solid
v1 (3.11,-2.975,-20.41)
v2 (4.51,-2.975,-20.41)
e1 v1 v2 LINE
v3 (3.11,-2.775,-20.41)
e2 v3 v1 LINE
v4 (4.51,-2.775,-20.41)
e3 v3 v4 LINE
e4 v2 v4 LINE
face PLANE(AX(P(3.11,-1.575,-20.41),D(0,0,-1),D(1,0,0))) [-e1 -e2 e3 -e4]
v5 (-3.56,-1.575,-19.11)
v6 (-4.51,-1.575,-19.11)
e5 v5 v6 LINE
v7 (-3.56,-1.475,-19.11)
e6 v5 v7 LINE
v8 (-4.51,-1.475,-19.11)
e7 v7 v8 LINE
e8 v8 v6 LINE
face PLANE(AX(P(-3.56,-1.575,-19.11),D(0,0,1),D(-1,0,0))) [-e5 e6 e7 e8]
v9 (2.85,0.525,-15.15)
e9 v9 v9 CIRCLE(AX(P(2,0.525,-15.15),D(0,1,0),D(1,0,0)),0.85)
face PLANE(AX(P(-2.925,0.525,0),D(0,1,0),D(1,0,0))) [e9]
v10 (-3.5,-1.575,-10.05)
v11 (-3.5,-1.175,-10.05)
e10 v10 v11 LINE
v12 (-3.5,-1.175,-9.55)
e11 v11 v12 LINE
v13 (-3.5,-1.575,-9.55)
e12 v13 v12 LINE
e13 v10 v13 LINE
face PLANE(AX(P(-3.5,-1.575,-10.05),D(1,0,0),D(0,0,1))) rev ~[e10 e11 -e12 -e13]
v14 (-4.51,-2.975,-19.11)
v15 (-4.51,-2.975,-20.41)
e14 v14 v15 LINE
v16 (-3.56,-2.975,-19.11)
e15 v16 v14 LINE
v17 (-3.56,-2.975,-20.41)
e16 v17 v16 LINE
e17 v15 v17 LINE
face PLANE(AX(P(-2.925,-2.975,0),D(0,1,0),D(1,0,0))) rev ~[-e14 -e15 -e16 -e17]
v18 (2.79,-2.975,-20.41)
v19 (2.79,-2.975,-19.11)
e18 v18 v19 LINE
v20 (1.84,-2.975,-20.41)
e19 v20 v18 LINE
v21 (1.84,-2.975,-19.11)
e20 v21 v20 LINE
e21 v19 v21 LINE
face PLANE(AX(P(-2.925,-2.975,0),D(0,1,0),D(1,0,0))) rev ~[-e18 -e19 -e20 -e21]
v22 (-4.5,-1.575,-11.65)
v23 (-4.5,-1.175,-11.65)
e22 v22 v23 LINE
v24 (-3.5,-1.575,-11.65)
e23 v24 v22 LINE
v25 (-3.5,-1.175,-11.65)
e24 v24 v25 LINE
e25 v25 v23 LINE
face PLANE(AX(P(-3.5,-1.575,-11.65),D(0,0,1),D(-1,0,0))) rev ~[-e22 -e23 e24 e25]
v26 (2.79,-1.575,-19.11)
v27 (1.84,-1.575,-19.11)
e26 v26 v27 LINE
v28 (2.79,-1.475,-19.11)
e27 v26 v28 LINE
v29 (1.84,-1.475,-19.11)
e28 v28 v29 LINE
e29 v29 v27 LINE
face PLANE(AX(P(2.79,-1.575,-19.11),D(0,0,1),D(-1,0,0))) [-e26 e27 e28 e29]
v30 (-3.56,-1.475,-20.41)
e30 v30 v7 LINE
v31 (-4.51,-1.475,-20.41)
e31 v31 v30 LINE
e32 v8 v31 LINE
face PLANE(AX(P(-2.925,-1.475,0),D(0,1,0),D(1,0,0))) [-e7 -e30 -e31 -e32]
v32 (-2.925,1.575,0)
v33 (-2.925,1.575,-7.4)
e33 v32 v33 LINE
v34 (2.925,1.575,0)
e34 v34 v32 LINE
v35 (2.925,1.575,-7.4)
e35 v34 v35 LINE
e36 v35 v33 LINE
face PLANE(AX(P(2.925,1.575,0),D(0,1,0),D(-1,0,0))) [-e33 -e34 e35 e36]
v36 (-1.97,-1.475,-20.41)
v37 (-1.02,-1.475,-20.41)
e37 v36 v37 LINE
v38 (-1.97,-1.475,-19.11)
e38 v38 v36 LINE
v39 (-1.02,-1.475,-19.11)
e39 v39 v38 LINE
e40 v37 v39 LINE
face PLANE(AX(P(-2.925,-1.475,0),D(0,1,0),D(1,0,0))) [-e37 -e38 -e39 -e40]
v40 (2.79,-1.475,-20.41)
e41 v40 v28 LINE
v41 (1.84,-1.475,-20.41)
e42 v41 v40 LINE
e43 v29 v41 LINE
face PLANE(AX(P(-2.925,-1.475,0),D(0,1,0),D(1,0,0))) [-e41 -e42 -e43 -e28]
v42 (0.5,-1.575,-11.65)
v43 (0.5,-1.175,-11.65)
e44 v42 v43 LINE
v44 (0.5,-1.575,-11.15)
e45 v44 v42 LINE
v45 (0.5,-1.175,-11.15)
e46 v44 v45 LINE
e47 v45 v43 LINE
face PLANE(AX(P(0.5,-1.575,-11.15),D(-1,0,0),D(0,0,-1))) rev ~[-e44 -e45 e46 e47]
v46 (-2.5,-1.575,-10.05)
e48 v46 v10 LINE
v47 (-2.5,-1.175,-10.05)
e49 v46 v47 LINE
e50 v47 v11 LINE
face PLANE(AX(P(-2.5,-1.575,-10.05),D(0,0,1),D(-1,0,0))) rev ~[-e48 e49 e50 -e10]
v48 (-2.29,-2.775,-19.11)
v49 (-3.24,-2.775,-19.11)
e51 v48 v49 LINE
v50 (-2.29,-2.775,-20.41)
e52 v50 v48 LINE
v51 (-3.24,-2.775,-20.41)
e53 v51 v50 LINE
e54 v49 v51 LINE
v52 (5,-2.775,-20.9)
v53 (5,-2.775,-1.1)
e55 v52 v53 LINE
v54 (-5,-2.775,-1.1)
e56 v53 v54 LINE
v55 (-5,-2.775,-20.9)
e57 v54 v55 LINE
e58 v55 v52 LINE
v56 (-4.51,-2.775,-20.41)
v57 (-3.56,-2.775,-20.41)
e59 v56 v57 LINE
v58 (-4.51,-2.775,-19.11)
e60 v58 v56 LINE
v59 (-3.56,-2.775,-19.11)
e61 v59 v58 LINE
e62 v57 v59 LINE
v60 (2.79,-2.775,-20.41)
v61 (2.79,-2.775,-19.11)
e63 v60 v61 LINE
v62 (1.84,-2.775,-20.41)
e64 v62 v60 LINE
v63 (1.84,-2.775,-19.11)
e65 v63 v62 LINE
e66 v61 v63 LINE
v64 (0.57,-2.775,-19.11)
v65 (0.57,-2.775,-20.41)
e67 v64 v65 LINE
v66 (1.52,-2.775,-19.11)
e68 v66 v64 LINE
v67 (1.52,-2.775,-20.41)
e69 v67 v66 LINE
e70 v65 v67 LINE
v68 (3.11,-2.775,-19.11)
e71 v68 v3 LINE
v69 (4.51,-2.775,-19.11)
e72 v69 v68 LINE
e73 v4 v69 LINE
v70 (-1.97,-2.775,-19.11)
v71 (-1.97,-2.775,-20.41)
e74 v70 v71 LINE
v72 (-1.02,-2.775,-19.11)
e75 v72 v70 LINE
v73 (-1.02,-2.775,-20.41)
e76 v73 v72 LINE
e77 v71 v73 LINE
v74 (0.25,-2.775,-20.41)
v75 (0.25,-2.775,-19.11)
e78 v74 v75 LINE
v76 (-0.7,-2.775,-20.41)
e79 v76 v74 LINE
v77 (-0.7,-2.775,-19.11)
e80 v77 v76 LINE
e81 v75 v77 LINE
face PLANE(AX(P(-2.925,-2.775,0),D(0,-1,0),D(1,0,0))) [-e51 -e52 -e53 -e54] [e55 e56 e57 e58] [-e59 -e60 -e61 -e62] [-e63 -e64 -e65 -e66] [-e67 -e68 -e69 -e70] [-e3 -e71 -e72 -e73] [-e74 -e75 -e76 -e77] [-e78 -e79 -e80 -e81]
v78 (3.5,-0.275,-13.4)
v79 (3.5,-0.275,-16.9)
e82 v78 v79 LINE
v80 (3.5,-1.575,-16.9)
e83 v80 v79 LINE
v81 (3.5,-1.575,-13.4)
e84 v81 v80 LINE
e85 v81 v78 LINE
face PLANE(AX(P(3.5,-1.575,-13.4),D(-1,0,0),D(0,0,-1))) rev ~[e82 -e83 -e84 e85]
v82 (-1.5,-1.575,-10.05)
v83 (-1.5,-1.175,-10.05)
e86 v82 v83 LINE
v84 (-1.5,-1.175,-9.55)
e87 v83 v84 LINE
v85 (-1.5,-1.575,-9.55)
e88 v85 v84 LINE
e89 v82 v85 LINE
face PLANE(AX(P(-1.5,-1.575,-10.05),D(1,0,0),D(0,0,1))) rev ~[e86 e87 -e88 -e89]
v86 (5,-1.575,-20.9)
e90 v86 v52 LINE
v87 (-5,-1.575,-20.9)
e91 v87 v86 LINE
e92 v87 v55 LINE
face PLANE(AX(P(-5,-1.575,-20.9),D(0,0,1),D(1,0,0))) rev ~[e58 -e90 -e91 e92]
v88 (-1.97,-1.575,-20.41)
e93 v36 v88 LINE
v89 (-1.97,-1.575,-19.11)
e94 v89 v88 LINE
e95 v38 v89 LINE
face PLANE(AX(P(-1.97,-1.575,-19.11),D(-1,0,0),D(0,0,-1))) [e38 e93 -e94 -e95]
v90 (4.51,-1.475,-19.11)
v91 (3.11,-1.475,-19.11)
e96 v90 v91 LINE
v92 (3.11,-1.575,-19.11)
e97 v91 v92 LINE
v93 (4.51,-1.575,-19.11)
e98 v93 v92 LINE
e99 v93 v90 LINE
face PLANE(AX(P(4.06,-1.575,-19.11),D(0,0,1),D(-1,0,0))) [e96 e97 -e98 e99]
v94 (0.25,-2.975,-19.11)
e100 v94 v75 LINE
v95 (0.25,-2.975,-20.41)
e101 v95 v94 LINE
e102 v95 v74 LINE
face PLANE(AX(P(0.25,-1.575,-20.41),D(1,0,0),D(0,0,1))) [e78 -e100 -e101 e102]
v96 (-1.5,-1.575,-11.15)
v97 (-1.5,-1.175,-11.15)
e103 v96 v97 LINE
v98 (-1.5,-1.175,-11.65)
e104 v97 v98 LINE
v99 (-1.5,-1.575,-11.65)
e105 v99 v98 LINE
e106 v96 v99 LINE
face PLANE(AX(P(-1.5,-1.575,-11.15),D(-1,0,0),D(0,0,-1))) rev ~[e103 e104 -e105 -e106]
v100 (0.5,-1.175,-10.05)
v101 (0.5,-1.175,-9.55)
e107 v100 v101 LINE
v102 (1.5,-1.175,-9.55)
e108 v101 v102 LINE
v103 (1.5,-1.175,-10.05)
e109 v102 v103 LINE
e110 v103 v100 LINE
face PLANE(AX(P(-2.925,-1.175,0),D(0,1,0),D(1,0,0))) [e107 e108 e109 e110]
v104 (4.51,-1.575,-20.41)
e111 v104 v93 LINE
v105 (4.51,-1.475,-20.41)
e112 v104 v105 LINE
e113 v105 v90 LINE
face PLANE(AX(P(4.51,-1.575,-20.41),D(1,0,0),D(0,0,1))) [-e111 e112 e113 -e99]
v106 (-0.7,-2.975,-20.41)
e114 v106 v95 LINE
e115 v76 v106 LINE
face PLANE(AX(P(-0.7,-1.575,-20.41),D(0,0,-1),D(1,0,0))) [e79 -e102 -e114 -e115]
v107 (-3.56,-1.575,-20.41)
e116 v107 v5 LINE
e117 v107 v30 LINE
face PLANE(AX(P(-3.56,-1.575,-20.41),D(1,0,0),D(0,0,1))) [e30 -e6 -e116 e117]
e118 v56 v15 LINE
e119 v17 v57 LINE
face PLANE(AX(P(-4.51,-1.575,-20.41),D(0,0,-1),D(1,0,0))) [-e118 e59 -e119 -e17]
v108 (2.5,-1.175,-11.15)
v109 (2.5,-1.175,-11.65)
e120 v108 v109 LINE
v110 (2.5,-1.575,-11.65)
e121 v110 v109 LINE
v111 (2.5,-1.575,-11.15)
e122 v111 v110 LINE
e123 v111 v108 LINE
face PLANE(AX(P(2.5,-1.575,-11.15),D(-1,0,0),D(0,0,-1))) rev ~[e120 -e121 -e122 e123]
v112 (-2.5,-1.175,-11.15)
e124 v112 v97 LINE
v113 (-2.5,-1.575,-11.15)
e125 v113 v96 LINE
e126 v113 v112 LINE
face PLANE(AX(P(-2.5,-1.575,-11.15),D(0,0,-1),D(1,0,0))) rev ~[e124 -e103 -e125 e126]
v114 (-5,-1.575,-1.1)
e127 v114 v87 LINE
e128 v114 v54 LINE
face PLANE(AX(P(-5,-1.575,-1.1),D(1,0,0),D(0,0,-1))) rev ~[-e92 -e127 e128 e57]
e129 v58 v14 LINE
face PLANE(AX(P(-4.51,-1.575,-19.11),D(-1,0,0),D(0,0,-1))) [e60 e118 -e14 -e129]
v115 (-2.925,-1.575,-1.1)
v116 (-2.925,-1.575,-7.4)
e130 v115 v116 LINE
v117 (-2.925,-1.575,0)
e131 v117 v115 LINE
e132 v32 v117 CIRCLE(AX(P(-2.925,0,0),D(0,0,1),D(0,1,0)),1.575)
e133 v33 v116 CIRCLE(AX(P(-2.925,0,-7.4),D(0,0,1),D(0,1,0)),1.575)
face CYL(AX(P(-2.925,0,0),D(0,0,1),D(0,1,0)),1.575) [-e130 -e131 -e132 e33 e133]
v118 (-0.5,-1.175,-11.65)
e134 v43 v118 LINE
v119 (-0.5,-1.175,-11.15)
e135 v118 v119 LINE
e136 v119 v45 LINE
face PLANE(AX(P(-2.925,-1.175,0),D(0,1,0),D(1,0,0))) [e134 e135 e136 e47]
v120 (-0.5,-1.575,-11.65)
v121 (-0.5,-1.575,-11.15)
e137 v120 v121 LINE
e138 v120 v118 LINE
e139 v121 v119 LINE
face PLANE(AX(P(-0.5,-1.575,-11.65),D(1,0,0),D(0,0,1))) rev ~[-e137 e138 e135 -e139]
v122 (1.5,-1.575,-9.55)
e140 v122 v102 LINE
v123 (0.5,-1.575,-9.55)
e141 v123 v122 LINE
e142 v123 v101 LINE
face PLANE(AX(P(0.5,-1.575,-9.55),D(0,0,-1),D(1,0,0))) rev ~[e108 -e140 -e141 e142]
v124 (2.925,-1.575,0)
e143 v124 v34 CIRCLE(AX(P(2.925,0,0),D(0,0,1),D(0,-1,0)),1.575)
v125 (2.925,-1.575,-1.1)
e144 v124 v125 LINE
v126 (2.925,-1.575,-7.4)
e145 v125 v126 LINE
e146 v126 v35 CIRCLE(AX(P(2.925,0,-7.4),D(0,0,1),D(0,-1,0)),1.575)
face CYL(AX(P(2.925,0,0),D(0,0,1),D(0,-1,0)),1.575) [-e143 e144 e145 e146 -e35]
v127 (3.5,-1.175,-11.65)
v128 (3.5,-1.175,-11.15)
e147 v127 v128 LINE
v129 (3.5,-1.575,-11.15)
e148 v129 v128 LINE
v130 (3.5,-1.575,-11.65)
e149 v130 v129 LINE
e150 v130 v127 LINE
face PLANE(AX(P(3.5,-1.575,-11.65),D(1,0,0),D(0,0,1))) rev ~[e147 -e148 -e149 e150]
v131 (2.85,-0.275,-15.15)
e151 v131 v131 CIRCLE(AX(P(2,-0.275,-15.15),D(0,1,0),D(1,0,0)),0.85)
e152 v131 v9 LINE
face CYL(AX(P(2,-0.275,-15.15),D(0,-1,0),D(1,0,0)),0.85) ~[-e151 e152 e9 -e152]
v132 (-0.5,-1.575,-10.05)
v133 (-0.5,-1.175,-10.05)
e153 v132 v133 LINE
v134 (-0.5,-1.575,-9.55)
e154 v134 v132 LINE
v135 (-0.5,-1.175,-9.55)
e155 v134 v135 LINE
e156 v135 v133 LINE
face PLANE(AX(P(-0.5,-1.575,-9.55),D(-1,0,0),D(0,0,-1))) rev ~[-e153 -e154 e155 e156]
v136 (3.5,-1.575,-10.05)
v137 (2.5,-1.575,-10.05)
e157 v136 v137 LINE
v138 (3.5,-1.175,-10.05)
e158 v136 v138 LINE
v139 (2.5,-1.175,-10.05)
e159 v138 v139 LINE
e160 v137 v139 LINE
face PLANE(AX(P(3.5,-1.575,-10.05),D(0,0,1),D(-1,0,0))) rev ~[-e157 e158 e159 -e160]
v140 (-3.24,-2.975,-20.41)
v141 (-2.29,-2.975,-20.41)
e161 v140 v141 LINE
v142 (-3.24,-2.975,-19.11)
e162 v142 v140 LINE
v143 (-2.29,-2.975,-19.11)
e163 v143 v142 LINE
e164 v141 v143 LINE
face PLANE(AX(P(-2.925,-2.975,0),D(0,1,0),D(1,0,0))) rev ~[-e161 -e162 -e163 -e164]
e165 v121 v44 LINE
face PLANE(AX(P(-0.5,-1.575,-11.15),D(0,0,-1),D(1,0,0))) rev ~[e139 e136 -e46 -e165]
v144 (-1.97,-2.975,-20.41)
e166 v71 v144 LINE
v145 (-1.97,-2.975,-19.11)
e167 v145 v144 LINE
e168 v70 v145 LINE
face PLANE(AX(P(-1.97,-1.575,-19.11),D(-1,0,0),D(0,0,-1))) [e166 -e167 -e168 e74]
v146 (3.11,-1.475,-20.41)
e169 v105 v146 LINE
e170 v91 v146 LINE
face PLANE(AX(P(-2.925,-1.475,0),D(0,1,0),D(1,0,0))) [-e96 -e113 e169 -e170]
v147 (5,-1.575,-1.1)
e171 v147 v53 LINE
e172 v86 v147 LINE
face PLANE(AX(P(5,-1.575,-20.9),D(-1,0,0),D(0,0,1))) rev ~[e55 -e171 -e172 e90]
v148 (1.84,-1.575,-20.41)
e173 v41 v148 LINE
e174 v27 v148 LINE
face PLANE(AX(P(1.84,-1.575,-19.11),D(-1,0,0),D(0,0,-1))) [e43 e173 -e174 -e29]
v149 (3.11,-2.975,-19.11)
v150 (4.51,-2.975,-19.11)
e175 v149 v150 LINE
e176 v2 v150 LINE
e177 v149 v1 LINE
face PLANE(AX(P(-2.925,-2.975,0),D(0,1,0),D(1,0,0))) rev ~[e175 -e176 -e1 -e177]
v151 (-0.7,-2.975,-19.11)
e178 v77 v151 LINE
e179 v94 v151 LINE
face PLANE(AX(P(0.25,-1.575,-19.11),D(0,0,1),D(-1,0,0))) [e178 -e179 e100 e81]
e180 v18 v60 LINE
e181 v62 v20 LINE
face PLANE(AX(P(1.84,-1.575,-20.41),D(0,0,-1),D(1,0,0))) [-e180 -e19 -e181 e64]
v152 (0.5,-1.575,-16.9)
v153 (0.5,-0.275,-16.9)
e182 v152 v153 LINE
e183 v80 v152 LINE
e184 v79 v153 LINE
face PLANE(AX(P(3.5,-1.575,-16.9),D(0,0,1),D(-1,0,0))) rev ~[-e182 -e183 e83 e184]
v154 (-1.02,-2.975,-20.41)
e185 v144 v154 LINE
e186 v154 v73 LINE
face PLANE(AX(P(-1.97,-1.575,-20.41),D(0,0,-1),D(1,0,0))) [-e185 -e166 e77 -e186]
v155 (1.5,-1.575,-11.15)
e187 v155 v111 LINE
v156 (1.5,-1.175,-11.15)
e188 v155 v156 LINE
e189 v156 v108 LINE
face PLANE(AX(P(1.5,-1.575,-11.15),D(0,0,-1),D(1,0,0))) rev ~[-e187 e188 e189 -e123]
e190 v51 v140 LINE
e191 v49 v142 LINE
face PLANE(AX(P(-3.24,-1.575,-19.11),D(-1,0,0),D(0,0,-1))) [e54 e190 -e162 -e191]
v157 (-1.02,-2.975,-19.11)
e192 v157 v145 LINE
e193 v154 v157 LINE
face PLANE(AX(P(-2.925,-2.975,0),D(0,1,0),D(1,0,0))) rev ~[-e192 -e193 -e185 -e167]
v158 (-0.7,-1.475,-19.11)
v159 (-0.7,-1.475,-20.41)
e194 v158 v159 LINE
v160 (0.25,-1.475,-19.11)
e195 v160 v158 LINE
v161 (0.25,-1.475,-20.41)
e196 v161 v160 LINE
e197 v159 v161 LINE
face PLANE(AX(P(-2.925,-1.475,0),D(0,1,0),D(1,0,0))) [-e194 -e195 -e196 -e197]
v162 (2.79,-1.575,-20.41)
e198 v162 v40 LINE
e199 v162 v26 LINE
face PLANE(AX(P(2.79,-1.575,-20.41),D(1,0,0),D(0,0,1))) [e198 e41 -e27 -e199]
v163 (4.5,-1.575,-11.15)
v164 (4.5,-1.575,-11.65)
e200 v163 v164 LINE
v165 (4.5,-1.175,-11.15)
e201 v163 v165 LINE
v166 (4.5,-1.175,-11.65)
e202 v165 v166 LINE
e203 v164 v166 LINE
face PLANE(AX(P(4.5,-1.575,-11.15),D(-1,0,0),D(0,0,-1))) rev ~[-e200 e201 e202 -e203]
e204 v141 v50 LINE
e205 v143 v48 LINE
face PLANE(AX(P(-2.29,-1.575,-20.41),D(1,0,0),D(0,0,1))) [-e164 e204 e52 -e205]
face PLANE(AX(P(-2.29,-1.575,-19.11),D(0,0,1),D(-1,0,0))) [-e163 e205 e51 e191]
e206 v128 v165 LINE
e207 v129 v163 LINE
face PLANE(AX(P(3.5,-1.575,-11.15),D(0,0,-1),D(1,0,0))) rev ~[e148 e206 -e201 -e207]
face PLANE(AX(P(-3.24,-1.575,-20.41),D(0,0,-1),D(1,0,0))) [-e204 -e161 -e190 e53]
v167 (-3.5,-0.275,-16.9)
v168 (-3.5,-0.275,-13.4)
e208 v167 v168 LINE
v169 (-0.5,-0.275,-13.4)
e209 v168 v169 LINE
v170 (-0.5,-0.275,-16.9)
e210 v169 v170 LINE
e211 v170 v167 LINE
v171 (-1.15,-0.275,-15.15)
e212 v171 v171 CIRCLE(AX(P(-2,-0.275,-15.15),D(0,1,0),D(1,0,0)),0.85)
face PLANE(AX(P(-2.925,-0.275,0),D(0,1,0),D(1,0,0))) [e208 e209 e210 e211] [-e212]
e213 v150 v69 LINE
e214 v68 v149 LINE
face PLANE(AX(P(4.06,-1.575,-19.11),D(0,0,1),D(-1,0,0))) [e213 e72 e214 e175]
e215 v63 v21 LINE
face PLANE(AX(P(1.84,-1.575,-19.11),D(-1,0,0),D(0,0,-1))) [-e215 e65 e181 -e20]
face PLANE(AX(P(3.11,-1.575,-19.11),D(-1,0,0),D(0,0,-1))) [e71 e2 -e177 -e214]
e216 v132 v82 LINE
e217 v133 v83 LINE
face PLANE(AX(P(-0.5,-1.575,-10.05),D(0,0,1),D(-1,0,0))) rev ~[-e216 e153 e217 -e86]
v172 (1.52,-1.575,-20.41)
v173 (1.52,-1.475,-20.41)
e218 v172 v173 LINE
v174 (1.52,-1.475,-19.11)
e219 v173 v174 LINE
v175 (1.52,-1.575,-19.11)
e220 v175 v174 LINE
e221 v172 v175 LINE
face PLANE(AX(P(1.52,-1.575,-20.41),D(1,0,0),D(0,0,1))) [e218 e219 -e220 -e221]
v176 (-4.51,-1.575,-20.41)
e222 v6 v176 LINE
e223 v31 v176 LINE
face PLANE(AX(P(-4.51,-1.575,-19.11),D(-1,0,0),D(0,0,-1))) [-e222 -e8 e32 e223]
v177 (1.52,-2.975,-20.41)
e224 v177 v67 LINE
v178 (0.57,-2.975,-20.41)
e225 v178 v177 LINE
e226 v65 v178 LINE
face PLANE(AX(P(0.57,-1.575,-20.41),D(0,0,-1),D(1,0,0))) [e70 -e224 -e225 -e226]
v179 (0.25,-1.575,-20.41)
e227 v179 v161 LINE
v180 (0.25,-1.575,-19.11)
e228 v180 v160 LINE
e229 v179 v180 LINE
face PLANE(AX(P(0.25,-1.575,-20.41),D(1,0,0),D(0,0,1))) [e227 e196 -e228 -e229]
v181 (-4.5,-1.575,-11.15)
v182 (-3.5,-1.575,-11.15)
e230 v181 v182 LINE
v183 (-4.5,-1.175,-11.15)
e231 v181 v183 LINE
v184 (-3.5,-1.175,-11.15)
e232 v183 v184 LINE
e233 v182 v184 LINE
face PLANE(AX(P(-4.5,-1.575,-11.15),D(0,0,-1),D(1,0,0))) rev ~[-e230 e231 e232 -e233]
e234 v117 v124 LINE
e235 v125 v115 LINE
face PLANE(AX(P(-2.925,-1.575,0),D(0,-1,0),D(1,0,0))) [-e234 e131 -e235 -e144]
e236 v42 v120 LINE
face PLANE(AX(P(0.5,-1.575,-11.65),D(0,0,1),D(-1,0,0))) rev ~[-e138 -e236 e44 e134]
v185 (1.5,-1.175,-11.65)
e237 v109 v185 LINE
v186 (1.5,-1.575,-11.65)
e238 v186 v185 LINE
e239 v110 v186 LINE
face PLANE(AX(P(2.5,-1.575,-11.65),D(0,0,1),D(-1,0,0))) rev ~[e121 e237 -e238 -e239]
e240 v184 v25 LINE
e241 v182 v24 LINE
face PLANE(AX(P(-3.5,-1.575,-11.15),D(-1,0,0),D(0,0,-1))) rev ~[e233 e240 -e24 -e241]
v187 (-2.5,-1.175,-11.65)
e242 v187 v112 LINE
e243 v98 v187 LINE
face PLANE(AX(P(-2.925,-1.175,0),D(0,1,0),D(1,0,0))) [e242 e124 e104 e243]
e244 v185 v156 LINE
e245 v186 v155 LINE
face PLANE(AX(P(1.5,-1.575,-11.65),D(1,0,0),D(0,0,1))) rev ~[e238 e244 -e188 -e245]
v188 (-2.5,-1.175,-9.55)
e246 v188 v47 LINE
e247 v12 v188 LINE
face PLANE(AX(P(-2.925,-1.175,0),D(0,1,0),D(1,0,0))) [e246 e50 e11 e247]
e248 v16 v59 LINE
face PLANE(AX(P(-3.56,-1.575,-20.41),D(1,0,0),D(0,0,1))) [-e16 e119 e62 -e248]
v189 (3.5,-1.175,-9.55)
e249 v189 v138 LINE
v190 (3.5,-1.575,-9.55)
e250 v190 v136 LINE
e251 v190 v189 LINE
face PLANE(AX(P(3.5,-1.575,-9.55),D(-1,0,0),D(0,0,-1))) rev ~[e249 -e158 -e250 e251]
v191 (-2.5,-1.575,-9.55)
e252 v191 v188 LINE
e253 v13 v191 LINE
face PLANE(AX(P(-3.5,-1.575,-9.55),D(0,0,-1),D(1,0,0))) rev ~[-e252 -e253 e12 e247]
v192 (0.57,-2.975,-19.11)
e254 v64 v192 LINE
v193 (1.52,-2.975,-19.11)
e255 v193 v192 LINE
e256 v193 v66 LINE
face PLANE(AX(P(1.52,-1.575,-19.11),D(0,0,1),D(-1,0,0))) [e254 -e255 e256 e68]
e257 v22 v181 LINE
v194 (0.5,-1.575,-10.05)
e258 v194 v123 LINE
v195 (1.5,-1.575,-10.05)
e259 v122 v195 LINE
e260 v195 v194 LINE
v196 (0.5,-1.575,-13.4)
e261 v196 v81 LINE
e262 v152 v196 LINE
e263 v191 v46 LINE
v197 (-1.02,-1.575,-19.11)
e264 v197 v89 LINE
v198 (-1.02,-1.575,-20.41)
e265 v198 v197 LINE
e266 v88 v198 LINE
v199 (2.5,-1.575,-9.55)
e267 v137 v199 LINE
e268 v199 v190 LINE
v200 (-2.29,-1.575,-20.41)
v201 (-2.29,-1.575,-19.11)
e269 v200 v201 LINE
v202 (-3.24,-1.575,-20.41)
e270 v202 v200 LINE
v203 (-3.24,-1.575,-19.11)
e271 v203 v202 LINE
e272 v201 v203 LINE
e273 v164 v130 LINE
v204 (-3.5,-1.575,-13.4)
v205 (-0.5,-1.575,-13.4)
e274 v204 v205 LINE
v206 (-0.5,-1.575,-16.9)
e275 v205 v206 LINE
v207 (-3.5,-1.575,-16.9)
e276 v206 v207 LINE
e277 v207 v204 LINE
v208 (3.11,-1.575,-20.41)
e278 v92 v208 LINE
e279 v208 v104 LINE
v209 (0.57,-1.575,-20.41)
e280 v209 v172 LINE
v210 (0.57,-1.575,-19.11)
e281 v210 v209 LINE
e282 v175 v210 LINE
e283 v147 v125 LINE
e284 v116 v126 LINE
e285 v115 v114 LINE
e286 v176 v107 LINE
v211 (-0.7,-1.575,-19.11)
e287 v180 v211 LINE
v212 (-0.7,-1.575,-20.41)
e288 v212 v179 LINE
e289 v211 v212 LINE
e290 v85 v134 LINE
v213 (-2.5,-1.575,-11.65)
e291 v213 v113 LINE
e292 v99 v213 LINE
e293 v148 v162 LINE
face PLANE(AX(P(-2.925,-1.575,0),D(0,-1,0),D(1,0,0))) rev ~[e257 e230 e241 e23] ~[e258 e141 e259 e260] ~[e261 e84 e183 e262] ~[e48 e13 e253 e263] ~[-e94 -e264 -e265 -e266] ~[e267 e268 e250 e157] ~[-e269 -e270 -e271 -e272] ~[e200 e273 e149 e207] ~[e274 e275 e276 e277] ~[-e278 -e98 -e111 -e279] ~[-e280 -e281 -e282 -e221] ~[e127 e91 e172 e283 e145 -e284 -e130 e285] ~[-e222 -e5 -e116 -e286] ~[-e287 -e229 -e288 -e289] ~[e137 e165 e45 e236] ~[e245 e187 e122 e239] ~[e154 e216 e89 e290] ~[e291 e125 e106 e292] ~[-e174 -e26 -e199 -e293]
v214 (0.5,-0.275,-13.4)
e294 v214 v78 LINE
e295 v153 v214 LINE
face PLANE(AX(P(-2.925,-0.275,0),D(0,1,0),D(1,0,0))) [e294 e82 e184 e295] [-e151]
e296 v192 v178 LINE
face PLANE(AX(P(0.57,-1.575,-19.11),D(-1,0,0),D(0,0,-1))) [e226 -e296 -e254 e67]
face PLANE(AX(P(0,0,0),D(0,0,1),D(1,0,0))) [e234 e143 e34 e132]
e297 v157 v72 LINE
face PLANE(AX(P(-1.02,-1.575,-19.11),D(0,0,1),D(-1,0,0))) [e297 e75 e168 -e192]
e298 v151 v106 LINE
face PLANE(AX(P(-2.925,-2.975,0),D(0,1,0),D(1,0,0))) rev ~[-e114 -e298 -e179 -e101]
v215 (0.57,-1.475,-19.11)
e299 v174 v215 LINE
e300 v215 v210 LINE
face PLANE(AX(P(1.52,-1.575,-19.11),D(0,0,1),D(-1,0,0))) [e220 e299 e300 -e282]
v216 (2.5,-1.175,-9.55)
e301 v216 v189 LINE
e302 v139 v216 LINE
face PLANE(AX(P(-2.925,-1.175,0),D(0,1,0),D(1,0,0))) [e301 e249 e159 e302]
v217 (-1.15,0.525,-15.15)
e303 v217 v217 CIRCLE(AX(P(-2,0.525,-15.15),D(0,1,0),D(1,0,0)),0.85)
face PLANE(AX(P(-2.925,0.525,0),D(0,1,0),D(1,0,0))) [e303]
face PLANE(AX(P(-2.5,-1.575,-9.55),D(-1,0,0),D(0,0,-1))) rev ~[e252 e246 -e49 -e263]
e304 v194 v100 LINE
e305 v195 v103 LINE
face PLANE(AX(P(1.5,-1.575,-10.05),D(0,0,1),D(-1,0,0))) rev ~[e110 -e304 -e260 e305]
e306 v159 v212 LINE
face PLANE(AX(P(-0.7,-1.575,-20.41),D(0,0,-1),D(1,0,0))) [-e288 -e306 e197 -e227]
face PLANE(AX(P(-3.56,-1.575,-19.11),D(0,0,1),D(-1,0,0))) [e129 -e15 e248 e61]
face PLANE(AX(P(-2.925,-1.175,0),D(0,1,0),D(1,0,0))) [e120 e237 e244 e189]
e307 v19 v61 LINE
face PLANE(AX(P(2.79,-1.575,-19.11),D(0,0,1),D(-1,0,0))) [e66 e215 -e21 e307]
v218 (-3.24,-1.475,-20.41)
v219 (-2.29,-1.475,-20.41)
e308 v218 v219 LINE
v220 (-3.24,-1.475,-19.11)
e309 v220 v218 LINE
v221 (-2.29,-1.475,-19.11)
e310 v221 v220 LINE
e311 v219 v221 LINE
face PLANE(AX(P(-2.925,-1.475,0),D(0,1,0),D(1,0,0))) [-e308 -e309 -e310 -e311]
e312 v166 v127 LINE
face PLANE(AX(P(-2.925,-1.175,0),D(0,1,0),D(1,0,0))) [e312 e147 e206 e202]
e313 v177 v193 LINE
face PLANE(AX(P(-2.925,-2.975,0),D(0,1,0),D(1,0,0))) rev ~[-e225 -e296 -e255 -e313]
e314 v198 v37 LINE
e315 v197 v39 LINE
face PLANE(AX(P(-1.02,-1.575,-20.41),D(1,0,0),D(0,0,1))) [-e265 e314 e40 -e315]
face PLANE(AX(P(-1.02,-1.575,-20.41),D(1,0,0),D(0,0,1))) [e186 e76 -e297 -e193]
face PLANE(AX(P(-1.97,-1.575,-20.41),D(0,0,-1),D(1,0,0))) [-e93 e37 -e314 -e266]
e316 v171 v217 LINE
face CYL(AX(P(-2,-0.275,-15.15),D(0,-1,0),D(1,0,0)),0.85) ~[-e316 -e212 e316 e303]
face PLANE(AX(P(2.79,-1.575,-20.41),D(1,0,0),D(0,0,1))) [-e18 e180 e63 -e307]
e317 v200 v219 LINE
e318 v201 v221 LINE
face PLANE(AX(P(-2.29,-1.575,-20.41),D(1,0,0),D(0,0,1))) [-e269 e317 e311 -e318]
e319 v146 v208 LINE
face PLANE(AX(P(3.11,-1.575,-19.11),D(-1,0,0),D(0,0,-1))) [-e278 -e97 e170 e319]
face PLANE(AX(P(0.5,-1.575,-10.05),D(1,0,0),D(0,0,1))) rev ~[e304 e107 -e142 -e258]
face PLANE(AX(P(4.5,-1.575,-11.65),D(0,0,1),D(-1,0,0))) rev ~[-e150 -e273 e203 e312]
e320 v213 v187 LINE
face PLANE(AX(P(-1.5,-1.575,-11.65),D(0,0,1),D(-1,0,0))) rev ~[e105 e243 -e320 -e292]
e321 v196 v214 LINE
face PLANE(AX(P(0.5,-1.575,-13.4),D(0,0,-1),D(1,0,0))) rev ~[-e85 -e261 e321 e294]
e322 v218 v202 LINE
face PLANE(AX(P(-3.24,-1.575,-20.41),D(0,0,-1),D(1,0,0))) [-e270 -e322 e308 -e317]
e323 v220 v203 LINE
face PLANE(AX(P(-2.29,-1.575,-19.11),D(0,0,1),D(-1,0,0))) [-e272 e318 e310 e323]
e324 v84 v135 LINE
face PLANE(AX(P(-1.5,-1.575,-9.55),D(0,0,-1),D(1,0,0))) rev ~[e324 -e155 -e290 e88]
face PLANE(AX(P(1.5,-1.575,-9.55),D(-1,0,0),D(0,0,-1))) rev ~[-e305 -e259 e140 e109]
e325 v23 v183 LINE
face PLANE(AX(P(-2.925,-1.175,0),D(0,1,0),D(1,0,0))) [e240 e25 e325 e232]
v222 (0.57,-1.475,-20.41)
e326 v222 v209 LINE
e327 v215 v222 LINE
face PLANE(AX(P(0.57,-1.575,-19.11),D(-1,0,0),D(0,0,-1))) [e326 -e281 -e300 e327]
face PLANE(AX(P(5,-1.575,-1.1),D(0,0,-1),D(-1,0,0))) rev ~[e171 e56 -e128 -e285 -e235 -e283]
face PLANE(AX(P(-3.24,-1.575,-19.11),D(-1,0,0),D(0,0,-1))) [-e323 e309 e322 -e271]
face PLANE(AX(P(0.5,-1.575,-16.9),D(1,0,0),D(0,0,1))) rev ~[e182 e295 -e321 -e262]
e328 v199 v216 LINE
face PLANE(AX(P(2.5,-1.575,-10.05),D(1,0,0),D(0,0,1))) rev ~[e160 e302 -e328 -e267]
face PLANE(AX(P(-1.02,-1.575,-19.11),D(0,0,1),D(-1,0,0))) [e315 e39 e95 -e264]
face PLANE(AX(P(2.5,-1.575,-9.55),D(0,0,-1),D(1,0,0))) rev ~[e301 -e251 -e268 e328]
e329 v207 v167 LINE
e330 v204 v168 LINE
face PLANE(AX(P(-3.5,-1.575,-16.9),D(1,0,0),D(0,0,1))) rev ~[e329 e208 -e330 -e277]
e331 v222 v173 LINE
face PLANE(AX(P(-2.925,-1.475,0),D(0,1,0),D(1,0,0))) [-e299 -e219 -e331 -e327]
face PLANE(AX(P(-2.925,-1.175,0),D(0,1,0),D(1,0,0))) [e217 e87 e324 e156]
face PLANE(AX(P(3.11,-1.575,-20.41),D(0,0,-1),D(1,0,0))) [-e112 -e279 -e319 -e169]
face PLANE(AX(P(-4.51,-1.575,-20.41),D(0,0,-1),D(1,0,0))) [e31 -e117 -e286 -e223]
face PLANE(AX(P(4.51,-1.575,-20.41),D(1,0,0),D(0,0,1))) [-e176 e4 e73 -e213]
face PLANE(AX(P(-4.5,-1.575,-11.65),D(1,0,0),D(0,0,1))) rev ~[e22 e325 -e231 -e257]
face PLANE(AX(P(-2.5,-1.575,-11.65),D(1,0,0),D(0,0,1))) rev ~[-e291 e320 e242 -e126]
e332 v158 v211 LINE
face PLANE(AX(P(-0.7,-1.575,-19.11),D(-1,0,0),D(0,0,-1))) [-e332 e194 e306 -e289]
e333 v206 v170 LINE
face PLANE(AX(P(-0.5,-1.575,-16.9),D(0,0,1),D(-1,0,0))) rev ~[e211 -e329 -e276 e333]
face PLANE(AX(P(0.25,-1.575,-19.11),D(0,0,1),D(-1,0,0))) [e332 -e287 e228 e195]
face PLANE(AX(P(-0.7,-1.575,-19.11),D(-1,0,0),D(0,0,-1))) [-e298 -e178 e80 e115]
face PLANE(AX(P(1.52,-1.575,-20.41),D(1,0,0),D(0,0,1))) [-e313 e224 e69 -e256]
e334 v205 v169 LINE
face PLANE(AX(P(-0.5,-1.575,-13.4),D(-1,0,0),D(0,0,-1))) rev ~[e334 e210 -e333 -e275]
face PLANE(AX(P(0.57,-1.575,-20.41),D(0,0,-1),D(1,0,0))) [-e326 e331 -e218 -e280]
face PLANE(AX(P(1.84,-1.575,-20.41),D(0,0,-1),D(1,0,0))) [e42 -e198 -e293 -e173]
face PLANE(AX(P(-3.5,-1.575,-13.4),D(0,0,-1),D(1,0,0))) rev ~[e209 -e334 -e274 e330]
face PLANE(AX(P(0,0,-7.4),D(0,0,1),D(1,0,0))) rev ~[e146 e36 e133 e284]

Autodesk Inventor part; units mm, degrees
ref_plane "YZ Plane" through (0, 0, 0) normal (1, 0, 0) x (0, 1, 0)
ref_plane "XZ Plane" through (0, 0, 0) normal (0, 1, 0) x (-1, 0, 0)
ref_plane "XY Plane" through (0, 0, 0) normal (0, 0, 1) x (1, 0, 0)
sketch "Sketch1" plane through (0, 0, 0) normal (0, 0, 1) x (1, 0, 0)
  line L0 (-4.5, 0) -> (4.5, 0) construction
  line L1 (-2.925, -1.575) -> (2.925, -1.575)
  line L2 (2.925, 1.575) -> (-2.925, 1.575)
  arc A0 (-2.925, 1.575) -> (-2.925, -1.575) centre (-2.925, 0) ccw
  arc A1 (2.925, -1.575) -> (2.925, 1.575) centre (2.925, 0) ccw
  point P0 (0, 0)
  point P1 (0, 0)
  dimension "d0" = 9
  dimension "d1" = 3.15
extrude "Extrusion1" add sketch "Sketch1" against normal blind 7.4
sketch "Sketch2" plane through (-2.925, -1.575, 0) normal (0, -1, 0) x (1, 0, 0)
  line L0 (7.925, -1.1) -> (-2.075, -1.1)
  line L1 (-2.075, -1.1) -> (-2.075, -20.9)
  line L2 (-2.075, -20.9) -> (7.925, -20.9)
  line L3 (7.925, -20.9) -> (7.925, -1.1)
  line L4 (0, 0) -> (5.85, 0) projected
  point P0 (2.925, 0)
  point P1 (2.925, 0)
  point P2 (2.925, -1.1)
  dimension "d4" = 10
  dimension "d5" = 19.8
  dimension "d6" = 1.1
extrude "Extrusion2" add sketch "Sketch2" along normal blind 1.2
sketch "Sketch3" plane through (-2.925, -1.575, 0) normal (0, 1, 0) x (1, 0, 0)
  line L0 (-0.575, 9.55) -> (0.425, 9.55)
  line L1 (0.425, 9.55) -> (0.425, 10.05)
  line L2 (0.425, 10.05) -> (-0.575, 10.05)
  line L3 (-0.575, 10.05) -> (-0.575, 9.55)
  line L4 (1.425, 9.55) -> (2.425, 9.55)
  line L5 (2.425, 9.55) -> (2.425, 10.05)
  line L6 (2.425, 10.05) -> (1.425, 10.05)
  line L7 (1.425, 10.05) -> (1.425, 9.55)
  line L8 (3.425, 9.55) -> (4.425, 9.55)
  line L9 (4.425, 9.55) -> (4.425, 10.05)
  line L10 (4.425, 10.05) -> (3.425, 10.05)
  line L11 (3.425, 10.05) -> (3.425, 9.55)
  line L12 (5.425, 9.55) -> (6.425, 9.55)
  line L13 (6.425, 9.55) -> (6.425, 10.05)
  line L14 (6.425, 10.05) -> (5.425, 10.05)
  line L15 (5.425, 10.05) -> (5.425, 9.55)
  line L16 (-2.075, 20.9) -> (7.925, 20.9) projected
  line L17 (2.925, 20.9) -> (2.925, 7.4) construction
  line L18 (5.85, 7.4) -> (0, 7.4) projected
  line L19 (0.425, 11.15) -> (1.425, 11.15)
  line L20 (1.425, 11.15) -> (1.425, 11.65)
  line L21 (1.425, 11.65) -> (0.425, 11.65)
  line L22 (0.425, 11.65) -> (0.425, 11.15)
  line L23 (3.425, 11.15) -> (3.425, 11.65)
  line L24 (3.425, 11.65) -> (2.425, 11.65)
  line L25 (2.425, 11.65) -> (2.425, 11.15)
  line L26 (2.425, 11.15) -> (3.425, 11.15)
  line L27 (5.425, 11.15) -> (5.425, 11.65)
  line L28 (5.425, 11.65) -> (4.425, 11.65)
  line L29 (4.425, 11.65) -> (4.425, 11.15)
  line L30 (4.425, 11.15) -> (5.425, 11.15)
  point P0 (2.925, 0)
  point P1 (-0.575, 9.8)
  point P2 (2.925, 11.65)
  point P3 (0.425, 11.4)
  dimension "d9" = 1
  dimension "d10" = 0.5
  dimension "d13" = 2
  dimension "d18" = 2.4
  dimension "d19" = 1
  dimension "d20" = 0.5
  dimension "d23" = 2
  dimension "d28" = 4
extrude "Extrusion3" add sketch "Sketch3" along normal blind 0.4
sketch "Sketch4" plane through (-2.925, -1.575, 0) normal (0, 1, 0) x (1, 0, 0)
  line L0 (-1.575, 11.15) -> (-0.575, 11.15)
  line L1 (-0.575, 11.15) -> (-0.575, 11.65)
  line L2 (-0.575, 11.65) -> (-1.575, 11.65)
  line L3 (-1.575, 11.65) -> (-1.575, 11.15)
  line L4 (6.425, 11.15) -> (7.425, 11.15)
  line L5 (7.425, 11.15) -> (7.425, 11.65)
  line L6 (7.425, 11.65) -> (6.425, 11.65)
  line L7 (6.425, 11.65) -> (6.425, 11.15)
  line L8 (0.425, 11.15) -> (1.425, 11.15) projected
  line L9 (4.425, 11.65) -> (4.425, 11.15) projected
  line L10 (0.425, 11.65) -> (0.425, 11.15) projected
  point P0 (2.925, 0)
  dimension "d31" = 1
  dimension "d32" = 0.5
  dimension "d33" = 1
  dimension "d34" = 0.5
  dimension "d35" = 2
  dimension "d36" = 2
extrude "Extrusion4" add sketch "Sketch4" along normal blind 0.4
sketch "Sketch5" plane through (-2.925, -1.575, 0) normal (0, 1, 0) x (1, 0, 0)
  line L0 (-0.575, 13.4) -> (2.425, 13.4)
  line L1 (2.425, 13.4) -> (2.425, 16.9)
  line L2 (2.425, 16.9) -> (-0.575, 16.9)
  line L3 (-0.575, 16.9) -> (-0.575, 13.4)
  line L4 (3.425, 13.4) -> (6.425, 13.4)
  line L5 (6.425, 13.4) -> (6.425, 16.9)
  line L6 (6.425, 16.9) -> (3.425, 16.9)
  line L7 (3.425, 16.9) -> (3.425, 13.4)
  line L8 (-2.075, 20.9) -> (7.925, 20.9) projected
  line L9 (5.85, 7.4) -> (0, 7.4) projected
  line L10 (2.925, 7.4) -> (2.925, 20.9) construction
  point P0 (2.925, 0)
  dimension "d39" = 3
  dimension "d40" = 3.5
  dimension "d43" = 4
  dimension "d48" = 4
extrude "Extrusion5" add sketch "Sketch5" along normal blind 1.3
sketch "Sketch6" plane through (-2.925, -0.275, 0) normal (0, 1, 0) x (1, 0, 0)
  circle A0 centre (0.925, 15.15) radius 0.85
  circle A1 centre (4.925, 15.15) radius 0.85
  line L0 (-0.575, 16.9) -> (-0.575, 13.4) projected
  line L1 (-0.575, 13.4) -> (2.425, 13.4) projected
  line L2 (3.425, 13.4) -> (6.425, 13.4) projected
  point P0 (2.925, 0)
  point P1 (-0.575, 15.15)
  point P2 (0.925, 13.4)
  point P3 (4.925, 13.4)
  dimension "d51" = 1.7
  dimension "d52" = 1.7
extrude "Extrusion6" add sketch "Sketch6" along normal blind 0.8
sketch "Sketch7" plane through (-2.925, -1.575, 0) normal (0, 1, 0) x (1, 0, 0)
  line L0 (-0.635, 19.11) -> (-1.585, 19.11)
  line L1 (-1.585, 19.11) -> (-1.585, 20.41)
  line L2 (-1.585, 20.41) -> (-0.635, 20.41)
  line L3 (-0.635, 20.41) -> (-0.635, 19.11)
  line L4 (0.635, 19.11) -> (-0.315, 19.11)
  line L5 (-0.315, 19.11) -> (-0.315, 20.41)
  line L6 (-0.315, 20.41) -> (0.635, 20.41)
  line L7 (0.635, 20.41) -> (0.635, 19.11)
  line L8 (1.905, 19.11) -> (0.955, 19.11)
  line L9 (0.955, 19.11) -> (0.955, 20.41)
  line L10 (0.955, 20.41) -> (1.905, 20.41)
  line L11 (1.905, 20.41) -> (1.905, 19.11)
  line L12 (3.175, 19.11) -> (2.225, 19.11)
  line L13 (2.225, 19.11) -> (2.225, 20.41)
  line L14 (2.225, 20.41) -> (3.175, 20.41)
  line L15 (3.175, 20.41) -> (3.175, 19.11)
  line L16 (4.445, 19.11) -> (3.495, 19.11)
  line L17 (3.495, 19.11) -> (3.495, 20.41)
  line L18 (3.495, 20.41) -> (4.445, 20.41)
  line L19 (4.445, 20.41) -> (4.445, 19.11)
  line L20 (5.715, 19.11) -> (4.765, 19.11)
  line L21 (4.765, 19.11) -> (4.765, 20.41)
  line L22 (4.765, 20.41) -> (5.715, 20.41)
  line L23 (5.715, 20.41) -> (5.715, 19.11)
  line L24 (6.985, 19.11) -> (6.035, 19.11)
  line L25 (6.035, 19.11) -> (6.035, 20.41)
  line L26 (6.035, 20.41) -> (6.985, 20.41)
  line L27 (6.985, 20.41) -> (6.985, 19.11)
  line L28 (6.985, 20.41) -> (7.435, 20.41)
  line L29 (7.435, 20.41) -> (7.435, 19.11)
  line L30 (7.435, 19.11) -> (6.985, 19.11)
  line L31 (7.925, 20.9) -> (7.925, 1.1) projected
  line L32 (-2.075, 1.1) -> (-2.075, 20.9) projected
  line L33 (-2.075, 20.9) -> (7.925, 20.9) projected
  point P0 (2.925, 0)
  dimension "d55" = 0.95
  dimension "d56" = 1.3
  dimension "d59" = 1.27
  dimension "d64" = 1.4
  dimension "d65" = 10
  dimension "d66" = 9.02
  dimension "d67" = 0.49
  dimension "d68" = 0.49
extrude "Extrusion7" add sketch "Sketch7" along normal blind 0.1 and the other way blind 1.4
equation "\"d67\" = -0.5 * d66 + 0.5 * d65"
equation "\"d68\" = d67"
properties part number "OMGUSB"
